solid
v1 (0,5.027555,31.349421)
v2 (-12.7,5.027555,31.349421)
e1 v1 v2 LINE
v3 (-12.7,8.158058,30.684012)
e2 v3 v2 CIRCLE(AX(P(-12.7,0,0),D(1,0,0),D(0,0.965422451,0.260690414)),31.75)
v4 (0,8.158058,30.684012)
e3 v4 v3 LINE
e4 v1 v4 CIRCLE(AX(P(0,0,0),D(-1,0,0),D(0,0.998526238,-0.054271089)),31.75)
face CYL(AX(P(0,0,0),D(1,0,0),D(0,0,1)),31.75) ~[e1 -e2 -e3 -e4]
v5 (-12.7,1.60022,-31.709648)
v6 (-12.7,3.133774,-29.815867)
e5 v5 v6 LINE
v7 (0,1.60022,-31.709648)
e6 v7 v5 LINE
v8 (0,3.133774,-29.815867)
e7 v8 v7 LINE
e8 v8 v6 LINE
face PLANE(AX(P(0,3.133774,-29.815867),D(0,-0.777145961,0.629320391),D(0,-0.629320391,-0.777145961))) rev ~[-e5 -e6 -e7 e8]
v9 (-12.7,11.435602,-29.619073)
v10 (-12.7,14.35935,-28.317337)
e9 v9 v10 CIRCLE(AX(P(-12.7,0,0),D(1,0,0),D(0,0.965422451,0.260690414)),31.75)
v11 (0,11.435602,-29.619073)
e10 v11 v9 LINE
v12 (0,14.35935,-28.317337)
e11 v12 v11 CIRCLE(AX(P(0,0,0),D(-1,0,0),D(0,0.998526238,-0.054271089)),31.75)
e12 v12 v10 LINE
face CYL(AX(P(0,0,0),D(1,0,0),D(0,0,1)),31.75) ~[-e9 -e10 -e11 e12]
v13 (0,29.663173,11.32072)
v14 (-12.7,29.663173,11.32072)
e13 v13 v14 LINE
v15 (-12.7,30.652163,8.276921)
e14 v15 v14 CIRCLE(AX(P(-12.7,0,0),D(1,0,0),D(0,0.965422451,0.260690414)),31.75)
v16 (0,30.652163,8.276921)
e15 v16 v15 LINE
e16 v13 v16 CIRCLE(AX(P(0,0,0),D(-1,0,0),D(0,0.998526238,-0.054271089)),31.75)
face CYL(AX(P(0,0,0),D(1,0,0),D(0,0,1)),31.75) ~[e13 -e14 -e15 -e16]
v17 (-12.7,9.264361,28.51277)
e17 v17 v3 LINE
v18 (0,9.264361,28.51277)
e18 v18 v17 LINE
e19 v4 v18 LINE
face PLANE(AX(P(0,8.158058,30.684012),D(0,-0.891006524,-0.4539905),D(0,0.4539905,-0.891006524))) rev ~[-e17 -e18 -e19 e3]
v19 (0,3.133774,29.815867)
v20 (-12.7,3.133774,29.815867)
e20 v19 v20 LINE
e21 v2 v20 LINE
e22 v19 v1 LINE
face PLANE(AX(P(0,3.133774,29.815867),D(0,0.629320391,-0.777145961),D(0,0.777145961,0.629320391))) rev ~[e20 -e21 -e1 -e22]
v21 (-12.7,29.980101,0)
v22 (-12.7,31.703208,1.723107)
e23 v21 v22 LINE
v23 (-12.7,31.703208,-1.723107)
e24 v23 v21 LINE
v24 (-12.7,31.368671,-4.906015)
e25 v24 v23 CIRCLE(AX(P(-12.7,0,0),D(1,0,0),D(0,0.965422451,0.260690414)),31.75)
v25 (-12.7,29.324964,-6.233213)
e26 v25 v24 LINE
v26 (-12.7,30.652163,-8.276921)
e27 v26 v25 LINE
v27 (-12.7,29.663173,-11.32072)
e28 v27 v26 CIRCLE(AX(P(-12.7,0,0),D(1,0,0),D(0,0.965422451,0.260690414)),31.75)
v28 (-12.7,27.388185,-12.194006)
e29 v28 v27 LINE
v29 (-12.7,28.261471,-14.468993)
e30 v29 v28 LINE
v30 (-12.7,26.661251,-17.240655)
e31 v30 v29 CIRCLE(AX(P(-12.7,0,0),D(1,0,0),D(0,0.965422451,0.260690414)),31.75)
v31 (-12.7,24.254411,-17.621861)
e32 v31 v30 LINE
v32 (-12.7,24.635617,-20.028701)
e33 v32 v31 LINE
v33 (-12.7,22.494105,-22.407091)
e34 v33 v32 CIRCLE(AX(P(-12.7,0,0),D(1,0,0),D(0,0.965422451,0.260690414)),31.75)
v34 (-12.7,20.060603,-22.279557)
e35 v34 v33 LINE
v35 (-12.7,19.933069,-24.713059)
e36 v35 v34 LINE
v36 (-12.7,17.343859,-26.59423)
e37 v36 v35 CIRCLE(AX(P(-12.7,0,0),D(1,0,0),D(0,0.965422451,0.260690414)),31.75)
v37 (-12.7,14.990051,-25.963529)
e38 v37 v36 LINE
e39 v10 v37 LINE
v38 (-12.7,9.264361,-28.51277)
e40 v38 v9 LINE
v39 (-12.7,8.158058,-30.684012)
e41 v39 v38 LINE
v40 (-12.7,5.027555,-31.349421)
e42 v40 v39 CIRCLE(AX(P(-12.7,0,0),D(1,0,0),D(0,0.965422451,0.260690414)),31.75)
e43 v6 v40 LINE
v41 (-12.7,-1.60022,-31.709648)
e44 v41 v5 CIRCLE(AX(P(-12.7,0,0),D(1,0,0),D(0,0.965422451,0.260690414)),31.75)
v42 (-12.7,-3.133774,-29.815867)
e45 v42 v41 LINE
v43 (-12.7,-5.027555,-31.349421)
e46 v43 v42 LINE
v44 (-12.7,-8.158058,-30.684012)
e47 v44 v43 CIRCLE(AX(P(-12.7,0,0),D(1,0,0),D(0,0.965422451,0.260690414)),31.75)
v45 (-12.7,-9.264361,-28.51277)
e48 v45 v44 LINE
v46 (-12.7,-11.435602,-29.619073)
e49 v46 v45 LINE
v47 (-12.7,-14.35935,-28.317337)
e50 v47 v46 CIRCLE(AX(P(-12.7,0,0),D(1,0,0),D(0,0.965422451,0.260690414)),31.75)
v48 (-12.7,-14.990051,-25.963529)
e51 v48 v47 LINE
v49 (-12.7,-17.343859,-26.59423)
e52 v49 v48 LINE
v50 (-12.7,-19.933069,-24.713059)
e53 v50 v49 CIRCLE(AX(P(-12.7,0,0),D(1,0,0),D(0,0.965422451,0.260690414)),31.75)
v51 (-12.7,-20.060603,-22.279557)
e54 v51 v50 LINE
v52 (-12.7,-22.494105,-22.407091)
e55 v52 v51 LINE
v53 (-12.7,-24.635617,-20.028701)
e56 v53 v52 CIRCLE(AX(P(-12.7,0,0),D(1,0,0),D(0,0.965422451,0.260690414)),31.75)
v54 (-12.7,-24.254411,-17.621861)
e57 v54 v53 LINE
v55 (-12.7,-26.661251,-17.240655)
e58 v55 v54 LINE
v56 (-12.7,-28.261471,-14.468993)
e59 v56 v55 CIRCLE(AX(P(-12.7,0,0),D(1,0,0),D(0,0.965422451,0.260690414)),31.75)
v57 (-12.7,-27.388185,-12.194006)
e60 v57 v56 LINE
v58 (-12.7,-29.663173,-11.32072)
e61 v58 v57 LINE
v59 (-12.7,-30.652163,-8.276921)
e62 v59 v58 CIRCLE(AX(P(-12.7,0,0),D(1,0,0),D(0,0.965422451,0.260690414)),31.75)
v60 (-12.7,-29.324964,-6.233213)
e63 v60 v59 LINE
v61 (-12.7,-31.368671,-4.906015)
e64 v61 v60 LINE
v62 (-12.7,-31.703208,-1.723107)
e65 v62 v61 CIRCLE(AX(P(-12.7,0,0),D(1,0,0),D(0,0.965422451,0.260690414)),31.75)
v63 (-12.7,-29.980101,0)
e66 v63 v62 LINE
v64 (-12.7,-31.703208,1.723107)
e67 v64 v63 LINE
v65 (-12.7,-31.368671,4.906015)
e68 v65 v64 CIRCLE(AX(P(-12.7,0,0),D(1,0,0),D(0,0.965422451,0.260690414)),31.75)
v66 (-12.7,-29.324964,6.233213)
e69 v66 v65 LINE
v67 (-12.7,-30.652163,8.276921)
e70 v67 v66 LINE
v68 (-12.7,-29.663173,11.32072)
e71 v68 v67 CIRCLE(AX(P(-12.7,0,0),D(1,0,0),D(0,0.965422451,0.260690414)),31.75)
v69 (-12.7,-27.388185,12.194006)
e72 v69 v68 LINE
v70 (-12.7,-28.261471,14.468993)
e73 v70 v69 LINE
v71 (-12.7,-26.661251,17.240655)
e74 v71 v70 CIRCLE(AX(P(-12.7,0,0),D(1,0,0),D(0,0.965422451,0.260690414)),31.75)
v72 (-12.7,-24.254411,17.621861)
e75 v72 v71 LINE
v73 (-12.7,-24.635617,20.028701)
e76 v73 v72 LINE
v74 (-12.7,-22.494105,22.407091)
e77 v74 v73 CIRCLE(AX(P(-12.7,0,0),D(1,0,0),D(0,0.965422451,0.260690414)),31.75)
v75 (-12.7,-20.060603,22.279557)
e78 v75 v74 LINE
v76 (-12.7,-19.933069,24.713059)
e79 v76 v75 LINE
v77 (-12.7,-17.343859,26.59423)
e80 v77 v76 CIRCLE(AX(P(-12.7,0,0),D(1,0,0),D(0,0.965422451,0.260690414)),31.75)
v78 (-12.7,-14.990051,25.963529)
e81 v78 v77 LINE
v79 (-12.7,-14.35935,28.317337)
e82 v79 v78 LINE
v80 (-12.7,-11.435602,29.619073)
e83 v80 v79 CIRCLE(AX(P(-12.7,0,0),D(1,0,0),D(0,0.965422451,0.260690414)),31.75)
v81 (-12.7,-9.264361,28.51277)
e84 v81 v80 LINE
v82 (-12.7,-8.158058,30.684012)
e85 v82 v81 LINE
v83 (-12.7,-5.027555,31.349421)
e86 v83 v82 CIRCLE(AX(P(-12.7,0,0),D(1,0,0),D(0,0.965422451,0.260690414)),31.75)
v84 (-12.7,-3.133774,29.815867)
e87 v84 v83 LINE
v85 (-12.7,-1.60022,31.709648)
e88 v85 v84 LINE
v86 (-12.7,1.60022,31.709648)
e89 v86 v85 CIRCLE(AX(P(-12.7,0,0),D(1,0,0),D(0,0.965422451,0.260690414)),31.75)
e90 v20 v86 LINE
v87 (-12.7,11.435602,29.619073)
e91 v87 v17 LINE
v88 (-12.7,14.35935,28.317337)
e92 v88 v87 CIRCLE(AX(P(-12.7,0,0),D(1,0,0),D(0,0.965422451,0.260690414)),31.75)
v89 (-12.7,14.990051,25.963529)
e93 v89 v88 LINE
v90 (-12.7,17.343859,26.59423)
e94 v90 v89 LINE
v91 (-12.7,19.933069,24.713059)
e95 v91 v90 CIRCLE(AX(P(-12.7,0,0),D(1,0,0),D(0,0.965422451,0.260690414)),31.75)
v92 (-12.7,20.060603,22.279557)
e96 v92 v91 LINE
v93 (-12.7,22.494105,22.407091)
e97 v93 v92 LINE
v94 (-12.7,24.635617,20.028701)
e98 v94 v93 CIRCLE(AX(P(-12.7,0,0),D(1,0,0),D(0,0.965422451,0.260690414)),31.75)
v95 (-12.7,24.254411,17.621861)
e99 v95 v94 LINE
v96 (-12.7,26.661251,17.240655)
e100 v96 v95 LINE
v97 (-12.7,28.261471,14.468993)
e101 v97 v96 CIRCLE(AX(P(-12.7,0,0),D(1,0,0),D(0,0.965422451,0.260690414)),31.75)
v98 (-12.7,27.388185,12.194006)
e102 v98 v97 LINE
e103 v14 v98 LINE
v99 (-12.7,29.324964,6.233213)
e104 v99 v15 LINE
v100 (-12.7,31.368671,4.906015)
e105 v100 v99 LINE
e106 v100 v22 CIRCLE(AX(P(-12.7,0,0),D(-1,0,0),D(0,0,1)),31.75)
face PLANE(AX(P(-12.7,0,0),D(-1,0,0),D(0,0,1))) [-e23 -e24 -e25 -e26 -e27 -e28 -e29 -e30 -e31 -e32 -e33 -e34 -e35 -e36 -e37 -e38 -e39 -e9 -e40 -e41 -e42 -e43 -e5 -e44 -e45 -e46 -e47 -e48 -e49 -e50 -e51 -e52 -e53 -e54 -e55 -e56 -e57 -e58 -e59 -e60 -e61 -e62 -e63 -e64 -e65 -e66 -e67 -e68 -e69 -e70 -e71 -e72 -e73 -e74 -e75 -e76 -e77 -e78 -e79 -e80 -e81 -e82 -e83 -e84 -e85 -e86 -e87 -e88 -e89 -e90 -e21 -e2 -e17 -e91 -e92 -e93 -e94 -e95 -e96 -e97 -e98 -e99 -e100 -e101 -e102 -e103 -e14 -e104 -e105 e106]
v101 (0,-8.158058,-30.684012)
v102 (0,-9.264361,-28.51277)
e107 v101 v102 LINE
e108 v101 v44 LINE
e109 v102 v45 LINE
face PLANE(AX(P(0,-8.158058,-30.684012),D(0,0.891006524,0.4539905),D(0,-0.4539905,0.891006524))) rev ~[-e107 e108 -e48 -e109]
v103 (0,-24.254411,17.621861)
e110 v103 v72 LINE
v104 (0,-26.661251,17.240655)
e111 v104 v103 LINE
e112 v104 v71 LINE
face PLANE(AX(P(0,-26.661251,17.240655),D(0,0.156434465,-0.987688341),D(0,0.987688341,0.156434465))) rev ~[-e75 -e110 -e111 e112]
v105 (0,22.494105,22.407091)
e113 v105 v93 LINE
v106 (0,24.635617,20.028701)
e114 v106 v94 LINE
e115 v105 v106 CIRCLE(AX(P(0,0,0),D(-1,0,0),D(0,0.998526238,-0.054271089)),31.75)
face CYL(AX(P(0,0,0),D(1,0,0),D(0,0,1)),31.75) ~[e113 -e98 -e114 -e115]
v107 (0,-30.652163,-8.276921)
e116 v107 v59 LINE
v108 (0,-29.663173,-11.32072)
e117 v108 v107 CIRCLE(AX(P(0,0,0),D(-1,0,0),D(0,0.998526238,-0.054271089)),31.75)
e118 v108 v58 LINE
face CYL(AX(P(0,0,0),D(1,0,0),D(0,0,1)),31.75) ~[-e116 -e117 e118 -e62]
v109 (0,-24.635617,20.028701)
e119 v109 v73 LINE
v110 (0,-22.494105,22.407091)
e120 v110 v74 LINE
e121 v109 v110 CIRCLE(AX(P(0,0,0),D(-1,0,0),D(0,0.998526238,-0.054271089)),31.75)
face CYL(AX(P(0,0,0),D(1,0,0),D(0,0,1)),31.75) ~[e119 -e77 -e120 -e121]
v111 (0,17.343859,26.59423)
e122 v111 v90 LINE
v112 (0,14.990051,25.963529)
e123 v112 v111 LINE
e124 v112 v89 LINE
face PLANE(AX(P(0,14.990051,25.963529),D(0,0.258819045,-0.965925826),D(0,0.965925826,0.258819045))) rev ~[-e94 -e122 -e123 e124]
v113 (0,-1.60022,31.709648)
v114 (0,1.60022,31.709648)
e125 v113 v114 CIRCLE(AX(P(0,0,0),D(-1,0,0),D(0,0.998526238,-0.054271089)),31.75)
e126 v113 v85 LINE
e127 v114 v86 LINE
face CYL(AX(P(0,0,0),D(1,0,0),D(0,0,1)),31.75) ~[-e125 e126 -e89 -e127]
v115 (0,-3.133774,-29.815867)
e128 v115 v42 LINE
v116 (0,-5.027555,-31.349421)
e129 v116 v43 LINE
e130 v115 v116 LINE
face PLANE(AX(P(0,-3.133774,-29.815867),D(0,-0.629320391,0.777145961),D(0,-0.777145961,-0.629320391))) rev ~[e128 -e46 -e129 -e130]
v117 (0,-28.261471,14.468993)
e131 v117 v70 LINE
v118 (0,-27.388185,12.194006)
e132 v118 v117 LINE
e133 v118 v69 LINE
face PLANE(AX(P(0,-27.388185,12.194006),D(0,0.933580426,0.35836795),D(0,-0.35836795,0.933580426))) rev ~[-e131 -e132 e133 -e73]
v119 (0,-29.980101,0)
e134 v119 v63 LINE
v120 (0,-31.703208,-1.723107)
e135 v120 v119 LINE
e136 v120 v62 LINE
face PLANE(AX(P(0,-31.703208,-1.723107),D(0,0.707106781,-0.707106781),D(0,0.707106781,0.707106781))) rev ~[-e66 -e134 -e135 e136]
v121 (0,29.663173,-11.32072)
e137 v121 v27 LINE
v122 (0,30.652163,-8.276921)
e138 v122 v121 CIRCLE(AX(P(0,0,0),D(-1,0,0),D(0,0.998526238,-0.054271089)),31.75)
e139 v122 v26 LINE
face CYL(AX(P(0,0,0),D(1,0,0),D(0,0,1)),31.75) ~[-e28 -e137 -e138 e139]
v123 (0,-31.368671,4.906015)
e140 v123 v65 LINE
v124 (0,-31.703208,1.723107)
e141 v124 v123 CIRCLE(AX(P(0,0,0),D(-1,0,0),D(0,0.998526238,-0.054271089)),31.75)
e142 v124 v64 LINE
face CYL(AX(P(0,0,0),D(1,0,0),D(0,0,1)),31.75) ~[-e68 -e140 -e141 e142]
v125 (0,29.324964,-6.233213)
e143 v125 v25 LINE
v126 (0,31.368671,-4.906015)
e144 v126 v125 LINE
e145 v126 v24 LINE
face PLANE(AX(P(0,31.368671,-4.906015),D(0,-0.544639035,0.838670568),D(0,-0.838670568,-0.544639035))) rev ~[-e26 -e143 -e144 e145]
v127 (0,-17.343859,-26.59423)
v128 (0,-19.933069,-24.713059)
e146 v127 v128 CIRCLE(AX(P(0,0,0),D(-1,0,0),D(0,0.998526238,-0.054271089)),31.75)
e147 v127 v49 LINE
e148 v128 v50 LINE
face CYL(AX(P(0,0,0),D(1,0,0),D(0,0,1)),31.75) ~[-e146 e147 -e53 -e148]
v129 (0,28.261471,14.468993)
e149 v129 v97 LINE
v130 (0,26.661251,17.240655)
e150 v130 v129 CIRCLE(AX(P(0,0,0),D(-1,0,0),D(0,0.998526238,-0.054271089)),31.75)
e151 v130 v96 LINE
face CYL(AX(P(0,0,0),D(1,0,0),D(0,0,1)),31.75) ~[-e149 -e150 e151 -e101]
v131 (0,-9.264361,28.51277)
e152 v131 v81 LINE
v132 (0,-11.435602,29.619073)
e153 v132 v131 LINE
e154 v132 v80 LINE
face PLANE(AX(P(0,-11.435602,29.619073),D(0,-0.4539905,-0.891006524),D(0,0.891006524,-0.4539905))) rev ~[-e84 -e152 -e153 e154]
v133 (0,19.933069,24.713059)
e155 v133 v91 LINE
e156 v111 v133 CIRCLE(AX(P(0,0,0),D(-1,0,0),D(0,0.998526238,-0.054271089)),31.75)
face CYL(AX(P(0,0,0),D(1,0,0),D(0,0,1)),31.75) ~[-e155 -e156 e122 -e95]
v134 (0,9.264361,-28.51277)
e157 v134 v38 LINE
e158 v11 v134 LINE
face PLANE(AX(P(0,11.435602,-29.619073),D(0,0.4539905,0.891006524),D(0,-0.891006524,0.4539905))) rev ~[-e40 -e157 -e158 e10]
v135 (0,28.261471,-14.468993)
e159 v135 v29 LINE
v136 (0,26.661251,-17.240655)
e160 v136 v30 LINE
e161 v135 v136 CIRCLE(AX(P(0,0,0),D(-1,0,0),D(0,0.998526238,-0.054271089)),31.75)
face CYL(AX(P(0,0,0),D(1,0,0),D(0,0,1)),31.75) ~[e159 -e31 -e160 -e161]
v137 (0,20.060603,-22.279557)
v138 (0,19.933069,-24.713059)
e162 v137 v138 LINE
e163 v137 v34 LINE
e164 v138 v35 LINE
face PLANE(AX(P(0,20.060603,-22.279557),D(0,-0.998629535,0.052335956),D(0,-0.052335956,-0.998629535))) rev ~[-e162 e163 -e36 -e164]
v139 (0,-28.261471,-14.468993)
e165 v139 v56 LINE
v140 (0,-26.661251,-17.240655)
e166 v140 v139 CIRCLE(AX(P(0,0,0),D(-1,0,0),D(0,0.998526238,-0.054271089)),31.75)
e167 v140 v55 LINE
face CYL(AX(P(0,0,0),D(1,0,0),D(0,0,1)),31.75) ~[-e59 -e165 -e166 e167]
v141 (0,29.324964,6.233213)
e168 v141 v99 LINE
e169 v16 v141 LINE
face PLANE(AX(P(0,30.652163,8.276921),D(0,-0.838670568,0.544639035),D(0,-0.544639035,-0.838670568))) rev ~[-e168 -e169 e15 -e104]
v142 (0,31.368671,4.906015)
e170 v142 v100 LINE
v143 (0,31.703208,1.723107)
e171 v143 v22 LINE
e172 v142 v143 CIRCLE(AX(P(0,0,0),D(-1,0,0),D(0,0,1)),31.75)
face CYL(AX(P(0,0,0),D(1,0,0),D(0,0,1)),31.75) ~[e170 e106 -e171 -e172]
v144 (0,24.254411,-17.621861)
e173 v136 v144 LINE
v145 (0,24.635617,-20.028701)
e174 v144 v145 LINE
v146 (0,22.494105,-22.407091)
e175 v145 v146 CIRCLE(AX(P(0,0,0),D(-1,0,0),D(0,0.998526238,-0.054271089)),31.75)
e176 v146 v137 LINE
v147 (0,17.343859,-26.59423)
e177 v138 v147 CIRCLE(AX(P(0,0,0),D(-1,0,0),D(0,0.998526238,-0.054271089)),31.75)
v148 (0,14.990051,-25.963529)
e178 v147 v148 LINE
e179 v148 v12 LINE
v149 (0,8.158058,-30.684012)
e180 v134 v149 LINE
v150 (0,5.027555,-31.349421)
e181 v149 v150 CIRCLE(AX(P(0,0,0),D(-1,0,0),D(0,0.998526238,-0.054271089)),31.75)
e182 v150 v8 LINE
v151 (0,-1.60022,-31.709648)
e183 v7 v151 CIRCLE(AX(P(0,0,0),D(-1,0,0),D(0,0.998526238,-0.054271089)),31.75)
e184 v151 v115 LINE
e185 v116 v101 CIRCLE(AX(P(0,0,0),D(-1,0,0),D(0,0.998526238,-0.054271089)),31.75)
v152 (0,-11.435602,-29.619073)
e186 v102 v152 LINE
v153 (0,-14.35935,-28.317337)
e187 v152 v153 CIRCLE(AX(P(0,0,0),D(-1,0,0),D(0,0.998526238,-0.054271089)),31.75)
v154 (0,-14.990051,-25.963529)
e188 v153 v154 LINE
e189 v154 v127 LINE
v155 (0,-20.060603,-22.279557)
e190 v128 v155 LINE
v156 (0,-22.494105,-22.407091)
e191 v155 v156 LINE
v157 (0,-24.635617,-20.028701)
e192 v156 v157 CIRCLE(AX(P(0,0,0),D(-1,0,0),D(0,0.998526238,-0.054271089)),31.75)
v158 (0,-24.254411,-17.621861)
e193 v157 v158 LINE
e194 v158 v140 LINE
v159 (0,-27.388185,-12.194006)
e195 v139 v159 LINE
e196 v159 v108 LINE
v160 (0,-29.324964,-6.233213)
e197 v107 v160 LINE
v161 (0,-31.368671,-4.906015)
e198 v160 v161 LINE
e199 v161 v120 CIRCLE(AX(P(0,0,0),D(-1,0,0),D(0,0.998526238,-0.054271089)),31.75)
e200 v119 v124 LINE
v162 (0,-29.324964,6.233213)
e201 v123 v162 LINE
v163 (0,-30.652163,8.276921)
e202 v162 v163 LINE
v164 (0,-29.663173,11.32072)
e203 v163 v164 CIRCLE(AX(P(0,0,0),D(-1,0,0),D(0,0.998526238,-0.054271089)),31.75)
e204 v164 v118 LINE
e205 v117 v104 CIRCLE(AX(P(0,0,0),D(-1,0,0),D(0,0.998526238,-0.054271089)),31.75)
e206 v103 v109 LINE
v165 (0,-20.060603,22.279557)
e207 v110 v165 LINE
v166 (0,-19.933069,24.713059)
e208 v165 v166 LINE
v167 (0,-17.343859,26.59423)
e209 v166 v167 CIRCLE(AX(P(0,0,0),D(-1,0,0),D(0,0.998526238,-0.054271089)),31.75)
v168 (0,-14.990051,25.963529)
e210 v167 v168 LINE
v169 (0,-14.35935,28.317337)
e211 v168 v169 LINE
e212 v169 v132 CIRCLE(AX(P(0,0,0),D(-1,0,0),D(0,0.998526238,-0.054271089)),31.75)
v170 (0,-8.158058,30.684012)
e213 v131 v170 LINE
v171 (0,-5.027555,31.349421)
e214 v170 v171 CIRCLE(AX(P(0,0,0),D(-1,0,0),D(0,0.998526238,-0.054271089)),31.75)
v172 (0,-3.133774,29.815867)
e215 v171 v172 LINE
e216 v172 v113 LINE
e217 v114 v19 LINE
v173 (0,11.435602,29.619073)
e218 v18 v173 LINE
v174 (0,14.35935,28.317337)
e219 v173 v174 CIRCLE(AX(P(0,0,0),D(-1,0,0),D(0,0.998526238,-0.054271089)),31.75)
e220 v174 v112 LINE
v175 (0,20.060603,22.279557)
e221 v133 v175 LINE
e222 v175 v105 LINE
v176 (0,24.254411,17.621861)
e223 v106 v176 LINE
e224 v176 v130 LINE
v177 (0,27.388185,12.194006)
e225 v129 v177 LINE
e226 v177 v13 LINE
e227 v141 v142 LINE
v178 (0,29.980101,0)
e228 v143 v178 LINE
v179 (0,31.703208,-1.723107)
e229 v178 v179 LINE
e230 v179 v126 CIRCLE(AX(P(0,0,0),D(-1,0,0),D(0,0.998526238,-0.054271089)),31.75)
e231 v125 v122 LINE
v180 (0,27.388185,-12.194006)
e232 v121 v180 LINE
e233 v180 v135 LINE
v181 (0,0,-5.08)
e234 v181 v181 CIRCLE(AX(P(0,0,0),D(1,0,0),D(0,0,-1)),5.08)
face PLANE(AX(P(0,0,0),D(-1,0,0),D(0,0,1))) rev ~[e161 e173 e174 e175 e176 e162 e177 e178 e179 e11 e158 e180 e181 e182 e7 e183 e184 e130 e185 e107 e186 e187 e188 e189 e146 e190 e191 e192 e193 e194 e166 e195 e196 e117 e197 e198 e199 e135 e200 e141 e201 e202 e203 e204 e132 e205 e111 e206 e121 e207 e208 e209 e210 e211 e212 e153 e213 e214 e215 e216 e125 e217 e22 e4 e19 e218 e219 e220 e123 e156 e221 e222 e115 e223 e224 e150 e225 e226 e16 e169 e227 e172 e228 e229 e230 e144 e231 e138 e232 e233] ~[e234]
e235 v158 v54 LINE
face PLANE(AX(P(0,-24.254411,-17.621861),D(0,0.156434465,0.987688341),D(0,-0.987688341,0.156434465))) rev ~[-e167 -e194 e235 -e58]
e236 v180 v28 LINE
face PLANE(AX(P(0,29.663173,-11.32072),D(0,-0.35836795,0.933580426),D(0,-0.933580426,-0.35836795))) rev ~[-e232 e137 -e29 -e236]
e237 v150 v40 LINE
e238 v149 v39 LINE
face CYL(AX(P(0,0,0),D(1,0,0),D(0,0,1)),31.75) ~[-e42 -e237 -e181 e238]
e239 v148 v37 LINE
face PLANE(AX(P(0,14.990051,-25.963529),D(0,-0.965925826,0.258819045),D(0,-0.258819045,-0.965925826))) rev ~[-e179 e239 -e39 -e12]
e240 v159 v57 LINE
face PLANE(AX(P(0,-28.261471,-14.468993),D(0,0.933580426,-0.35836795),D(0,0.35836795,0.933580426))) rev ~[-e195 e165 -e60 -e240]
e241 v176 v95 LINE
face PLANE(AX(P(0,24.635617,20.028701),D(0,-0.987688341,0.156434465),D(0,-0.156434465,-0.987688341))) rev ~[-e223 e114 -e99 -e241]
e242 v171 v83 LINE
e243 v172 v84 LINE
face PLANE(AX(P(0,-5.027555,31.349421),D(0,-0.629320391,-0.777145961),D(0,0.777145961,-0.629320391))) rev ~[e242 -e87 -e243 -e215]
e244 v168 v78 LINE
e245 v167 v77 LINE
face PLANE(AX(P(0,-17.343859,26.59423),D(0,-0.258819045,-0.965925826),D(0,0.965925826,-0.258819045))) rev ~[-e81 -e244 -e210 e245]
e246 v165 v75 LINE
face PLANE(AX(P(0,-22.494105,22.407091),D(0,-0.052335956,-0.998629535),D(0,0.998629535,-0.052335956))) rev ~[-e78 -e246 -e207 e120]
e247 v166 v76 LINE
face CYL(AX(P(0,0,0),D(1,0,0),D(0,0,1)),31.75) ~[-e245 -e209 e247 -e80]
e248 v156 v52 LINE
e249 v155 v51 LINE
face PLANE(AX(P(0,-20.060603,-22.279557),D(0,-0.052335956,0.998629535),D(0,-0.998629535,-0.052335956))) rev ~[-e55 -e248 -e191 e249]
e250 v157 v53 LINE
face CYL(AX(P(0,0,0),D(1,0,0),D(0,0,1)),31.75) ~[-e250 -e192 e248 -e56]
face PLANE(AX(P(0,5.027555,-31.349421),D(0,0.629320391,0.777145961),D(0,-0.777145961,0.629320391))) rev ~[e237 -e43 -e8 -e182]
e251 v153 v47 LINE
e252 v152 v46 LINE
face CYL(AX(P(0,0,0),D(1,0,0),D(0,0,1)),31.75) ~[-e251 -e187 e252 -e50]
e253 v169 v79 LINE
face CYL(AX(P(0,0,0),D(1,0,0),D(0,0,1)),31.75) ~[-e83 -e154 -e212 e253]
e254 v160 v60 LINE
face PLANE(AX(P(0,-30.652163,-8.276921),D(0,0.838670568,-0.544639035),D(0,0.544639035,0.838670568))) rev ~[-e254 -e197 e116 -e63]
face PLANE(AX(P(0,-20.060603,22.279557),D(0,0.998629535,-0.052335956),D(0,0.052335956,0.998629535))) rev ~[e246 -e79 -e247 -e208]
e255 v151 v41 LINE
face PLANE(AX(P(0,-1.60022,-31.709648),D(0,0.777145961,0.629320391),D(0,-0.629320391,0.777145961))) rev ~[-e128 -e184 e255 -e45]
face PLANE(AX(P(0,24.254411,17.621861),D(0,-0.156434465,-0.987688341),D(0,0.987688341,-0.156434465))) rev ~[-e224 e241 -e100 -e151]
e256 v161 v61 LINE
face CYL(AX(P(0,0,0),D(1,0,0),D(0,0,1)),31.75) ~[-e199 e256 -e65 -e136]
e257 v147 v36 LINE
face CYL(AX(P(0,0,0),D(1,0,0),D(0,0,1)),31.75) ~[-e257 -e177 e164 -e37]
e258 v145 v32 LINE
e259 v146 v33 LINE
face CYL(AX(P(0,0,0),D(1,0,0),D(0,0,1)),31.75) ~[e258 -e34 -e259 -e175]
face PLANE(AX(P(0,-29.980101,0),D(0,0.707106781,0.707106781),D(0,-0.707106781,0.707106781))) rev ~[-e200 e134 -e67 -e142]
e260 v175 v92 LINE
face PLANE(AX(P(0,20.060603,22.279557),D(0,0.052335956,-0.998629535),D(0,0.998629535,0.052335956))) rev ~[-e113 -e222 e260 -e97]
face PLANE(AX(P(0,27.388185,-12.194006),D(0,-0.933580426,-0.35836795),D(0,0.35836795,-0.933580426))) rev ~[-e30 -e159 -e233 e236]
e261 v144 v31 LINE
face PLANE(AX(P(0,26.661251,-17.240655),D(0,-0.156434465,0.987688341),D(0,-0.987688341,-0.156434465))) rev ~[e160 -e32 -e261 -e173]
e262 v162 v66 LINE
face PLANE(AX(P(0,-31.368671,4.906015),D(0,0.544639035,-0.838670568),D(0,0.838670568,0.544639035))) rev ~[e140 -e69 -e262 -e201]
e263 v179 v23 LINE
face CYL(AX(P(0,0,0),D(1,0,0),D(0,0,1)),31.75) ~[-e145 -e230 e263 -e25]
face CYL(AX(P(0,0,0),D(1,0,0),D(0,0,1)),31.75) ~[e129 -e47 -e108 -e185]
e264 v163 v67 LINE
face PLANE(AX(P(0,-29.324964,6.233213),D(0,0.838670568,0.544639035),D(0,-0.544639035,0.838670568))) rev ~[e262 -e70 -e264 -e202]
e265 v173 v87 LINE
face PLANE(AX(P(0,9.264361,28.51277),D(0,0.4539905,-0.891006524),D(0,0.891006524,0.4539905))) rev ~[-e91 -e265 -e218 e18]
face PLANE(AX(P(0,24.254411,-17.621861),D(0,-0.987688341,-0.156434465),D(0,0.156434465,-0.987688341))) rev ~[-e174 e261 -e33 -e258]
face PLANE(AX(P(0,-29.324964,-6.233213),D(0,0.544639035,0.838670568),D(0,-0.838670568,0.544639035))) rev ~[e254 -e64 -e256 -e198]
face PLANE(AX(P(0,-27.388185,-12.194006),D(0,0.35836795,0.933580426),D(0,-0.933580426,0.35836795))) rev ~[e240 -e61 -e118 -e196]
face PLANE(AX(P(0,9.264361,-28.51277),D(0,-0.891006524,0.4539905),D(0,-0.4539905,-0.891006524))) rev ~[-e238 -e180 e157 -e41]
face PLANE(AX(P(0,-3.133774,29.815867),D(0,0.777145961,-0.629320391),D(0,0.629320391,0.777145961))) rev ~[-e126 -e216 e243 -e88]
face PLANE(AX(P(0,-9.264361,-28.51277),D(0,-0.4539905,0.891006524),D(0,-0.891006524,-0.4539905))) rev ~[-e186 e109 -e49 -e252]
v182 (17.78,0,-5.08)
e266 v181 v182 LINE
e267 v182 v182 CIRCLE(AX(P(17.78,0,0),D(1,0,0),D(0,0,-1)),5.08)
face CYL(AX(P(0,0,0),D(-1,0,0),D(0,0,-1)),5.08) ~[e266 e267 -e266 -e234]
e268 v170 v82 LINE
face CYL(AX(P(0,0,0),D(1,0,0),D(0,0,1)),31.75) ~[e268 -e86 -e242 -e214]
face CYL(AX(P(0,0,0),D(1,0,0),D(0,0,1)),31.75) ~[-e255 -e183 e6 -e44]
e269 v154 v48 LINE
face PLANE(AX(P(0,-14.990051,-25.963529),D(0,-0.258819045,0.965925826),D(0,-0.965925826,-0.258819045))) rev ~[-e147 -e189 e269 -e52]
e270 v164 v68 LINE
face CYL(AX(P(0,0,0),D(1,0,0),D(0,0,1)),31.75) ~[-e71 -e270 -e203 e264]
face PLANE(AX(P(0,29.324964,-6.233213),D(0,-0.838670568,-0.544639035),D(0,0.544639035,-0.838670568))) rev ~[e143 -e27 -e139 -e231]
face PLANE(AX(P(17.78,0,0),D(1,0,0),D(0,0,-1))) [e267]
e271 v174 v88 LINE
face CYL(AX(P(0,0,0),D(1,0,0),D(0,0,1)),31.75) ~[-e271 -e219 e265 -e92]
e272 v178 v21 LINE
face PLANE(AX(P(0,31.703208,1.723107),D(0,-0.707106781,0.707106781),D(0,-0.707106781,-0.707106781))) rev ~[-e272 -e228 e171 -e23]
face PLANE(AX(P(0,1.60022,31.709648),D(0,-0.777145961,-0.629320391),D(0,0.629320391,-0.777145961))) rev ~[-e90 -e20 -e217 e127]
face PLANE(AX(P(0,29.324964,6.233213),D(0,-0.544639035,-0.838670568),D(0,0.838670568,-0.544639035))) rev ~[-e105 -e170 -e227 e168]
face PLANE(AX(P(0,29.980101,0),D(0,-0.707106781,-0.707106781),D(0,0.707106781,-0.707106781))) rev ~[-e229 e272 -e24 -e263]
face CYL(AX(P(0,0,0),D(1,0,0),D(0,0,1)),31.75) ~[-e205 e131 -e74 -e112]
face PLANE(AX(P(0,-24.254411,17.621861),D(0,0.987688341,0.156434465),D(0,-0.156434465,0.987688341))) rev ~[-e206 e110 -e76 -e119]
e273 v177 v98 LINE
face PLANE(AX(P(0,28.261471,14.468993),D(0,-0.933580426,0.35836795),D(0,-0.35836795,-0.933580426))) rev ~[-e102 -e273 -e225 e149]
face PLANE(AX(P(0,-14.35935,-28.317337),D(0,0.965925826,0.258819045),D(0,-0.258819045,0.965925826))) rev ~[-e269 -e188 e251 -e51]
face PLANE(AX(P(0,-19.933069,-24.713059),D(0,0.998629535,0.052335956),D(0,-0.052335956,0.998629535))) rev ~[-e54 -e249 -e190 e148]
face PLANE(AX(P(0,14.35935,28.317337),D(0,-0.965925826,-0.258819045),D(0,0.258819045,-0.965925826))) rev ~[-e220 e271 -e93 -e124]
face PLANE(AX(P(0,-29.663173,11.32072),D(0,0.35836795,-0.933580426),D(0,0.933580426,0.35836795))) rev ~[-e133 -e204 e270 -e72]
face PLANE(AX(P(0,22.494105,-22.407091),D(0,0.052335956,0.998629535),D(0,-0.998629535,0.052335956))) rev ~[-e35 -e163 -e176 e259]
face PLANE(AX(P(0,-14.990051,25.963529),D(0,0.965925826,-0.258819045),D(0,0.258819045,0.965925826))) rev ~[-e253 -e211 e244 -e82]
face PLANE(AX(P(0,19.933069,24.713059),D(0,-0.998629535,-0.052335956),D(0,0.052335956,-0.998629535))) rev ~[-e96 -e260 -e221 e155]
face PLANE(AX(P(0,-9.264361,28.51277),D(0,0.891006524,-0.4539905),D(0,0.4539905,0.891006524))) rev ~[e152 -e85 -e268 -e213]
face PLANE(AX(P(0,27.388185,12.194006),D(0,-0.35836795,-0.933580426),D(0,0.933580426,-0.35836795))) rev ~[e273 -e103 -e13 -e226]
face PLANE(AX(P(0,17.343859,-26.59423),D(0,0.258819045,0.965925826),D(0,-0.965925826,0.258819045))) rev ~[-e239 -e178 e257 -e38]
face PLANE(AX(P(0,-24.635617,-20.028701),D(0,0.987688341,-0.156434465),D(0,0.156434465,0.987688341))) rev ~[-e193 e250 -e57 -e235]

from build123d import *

# Parameters (mm, degrees)
SKETCH1_R           = 5.08
BOSS_EXTRUDE1_DEPTH = 17.78
SKETCH2_R           = 31.75
BOSS_EXTRUDE2_DEPTH = 12.7
CUT_EXTRUDE2_DEPTH  = 49.293409488
CIRPATTERN2_COUNT   = 30


with BuildPart() as part:
    # Sketch1 → Boss-Extrude1 (new body)
    with BuildSketch(Plane(origin=(0, 0, 0), x_dir=(0, 0, -1), z_dir=(1, 0, 0))):
        Circle(SKETCH1_R)
    extrude(amount=BOSS_EXTRUDE1_DEPTH)

    # Sketch2 → Boss-Extrude2 (add)
    with BuildSketch(Plane.ZY):
        Circle(SKETCH2_R)
    extrude(amount=BOSS_EXTRUDE2_DEPTH)

    # Sketch5 → Cut-Extrude2 (cut, through all)
    with BuildSketch(Plane(origin=(0, 0, 0), x_dir=(0, 0, -1), z_dir=(1, 0, 0))):
        with BuildLine():
            Line((0, 29.980101005), (1.723107067, 31.703208072))
            ThreePointArc((1.723107067, 31.703208072), (0, 31.75), (-1.723107067, 31.703208072))
            Line((-1.723107067, 31.703208072), (0, 29.980101005))
        make_face()
    cut_extrude2 = extrude(amount=-CUT_EXTRUDE2_DEPTH, mode=Mode.SUBTRACT)

    # CirPattern2: Cut-Extrude2 ×30 about axis
    cirpattern2_axis = Axis((0, 0, 0), (1, 0, 0))
    for i in range(1, CIRPATTERN2_COUNT):
        add(cut_extrude2.rotate(cirpattern2_axis, i * 360 / CIRPATTERN2_COUNT), mode=Mode.SUBTRACT)


solid = part.part
